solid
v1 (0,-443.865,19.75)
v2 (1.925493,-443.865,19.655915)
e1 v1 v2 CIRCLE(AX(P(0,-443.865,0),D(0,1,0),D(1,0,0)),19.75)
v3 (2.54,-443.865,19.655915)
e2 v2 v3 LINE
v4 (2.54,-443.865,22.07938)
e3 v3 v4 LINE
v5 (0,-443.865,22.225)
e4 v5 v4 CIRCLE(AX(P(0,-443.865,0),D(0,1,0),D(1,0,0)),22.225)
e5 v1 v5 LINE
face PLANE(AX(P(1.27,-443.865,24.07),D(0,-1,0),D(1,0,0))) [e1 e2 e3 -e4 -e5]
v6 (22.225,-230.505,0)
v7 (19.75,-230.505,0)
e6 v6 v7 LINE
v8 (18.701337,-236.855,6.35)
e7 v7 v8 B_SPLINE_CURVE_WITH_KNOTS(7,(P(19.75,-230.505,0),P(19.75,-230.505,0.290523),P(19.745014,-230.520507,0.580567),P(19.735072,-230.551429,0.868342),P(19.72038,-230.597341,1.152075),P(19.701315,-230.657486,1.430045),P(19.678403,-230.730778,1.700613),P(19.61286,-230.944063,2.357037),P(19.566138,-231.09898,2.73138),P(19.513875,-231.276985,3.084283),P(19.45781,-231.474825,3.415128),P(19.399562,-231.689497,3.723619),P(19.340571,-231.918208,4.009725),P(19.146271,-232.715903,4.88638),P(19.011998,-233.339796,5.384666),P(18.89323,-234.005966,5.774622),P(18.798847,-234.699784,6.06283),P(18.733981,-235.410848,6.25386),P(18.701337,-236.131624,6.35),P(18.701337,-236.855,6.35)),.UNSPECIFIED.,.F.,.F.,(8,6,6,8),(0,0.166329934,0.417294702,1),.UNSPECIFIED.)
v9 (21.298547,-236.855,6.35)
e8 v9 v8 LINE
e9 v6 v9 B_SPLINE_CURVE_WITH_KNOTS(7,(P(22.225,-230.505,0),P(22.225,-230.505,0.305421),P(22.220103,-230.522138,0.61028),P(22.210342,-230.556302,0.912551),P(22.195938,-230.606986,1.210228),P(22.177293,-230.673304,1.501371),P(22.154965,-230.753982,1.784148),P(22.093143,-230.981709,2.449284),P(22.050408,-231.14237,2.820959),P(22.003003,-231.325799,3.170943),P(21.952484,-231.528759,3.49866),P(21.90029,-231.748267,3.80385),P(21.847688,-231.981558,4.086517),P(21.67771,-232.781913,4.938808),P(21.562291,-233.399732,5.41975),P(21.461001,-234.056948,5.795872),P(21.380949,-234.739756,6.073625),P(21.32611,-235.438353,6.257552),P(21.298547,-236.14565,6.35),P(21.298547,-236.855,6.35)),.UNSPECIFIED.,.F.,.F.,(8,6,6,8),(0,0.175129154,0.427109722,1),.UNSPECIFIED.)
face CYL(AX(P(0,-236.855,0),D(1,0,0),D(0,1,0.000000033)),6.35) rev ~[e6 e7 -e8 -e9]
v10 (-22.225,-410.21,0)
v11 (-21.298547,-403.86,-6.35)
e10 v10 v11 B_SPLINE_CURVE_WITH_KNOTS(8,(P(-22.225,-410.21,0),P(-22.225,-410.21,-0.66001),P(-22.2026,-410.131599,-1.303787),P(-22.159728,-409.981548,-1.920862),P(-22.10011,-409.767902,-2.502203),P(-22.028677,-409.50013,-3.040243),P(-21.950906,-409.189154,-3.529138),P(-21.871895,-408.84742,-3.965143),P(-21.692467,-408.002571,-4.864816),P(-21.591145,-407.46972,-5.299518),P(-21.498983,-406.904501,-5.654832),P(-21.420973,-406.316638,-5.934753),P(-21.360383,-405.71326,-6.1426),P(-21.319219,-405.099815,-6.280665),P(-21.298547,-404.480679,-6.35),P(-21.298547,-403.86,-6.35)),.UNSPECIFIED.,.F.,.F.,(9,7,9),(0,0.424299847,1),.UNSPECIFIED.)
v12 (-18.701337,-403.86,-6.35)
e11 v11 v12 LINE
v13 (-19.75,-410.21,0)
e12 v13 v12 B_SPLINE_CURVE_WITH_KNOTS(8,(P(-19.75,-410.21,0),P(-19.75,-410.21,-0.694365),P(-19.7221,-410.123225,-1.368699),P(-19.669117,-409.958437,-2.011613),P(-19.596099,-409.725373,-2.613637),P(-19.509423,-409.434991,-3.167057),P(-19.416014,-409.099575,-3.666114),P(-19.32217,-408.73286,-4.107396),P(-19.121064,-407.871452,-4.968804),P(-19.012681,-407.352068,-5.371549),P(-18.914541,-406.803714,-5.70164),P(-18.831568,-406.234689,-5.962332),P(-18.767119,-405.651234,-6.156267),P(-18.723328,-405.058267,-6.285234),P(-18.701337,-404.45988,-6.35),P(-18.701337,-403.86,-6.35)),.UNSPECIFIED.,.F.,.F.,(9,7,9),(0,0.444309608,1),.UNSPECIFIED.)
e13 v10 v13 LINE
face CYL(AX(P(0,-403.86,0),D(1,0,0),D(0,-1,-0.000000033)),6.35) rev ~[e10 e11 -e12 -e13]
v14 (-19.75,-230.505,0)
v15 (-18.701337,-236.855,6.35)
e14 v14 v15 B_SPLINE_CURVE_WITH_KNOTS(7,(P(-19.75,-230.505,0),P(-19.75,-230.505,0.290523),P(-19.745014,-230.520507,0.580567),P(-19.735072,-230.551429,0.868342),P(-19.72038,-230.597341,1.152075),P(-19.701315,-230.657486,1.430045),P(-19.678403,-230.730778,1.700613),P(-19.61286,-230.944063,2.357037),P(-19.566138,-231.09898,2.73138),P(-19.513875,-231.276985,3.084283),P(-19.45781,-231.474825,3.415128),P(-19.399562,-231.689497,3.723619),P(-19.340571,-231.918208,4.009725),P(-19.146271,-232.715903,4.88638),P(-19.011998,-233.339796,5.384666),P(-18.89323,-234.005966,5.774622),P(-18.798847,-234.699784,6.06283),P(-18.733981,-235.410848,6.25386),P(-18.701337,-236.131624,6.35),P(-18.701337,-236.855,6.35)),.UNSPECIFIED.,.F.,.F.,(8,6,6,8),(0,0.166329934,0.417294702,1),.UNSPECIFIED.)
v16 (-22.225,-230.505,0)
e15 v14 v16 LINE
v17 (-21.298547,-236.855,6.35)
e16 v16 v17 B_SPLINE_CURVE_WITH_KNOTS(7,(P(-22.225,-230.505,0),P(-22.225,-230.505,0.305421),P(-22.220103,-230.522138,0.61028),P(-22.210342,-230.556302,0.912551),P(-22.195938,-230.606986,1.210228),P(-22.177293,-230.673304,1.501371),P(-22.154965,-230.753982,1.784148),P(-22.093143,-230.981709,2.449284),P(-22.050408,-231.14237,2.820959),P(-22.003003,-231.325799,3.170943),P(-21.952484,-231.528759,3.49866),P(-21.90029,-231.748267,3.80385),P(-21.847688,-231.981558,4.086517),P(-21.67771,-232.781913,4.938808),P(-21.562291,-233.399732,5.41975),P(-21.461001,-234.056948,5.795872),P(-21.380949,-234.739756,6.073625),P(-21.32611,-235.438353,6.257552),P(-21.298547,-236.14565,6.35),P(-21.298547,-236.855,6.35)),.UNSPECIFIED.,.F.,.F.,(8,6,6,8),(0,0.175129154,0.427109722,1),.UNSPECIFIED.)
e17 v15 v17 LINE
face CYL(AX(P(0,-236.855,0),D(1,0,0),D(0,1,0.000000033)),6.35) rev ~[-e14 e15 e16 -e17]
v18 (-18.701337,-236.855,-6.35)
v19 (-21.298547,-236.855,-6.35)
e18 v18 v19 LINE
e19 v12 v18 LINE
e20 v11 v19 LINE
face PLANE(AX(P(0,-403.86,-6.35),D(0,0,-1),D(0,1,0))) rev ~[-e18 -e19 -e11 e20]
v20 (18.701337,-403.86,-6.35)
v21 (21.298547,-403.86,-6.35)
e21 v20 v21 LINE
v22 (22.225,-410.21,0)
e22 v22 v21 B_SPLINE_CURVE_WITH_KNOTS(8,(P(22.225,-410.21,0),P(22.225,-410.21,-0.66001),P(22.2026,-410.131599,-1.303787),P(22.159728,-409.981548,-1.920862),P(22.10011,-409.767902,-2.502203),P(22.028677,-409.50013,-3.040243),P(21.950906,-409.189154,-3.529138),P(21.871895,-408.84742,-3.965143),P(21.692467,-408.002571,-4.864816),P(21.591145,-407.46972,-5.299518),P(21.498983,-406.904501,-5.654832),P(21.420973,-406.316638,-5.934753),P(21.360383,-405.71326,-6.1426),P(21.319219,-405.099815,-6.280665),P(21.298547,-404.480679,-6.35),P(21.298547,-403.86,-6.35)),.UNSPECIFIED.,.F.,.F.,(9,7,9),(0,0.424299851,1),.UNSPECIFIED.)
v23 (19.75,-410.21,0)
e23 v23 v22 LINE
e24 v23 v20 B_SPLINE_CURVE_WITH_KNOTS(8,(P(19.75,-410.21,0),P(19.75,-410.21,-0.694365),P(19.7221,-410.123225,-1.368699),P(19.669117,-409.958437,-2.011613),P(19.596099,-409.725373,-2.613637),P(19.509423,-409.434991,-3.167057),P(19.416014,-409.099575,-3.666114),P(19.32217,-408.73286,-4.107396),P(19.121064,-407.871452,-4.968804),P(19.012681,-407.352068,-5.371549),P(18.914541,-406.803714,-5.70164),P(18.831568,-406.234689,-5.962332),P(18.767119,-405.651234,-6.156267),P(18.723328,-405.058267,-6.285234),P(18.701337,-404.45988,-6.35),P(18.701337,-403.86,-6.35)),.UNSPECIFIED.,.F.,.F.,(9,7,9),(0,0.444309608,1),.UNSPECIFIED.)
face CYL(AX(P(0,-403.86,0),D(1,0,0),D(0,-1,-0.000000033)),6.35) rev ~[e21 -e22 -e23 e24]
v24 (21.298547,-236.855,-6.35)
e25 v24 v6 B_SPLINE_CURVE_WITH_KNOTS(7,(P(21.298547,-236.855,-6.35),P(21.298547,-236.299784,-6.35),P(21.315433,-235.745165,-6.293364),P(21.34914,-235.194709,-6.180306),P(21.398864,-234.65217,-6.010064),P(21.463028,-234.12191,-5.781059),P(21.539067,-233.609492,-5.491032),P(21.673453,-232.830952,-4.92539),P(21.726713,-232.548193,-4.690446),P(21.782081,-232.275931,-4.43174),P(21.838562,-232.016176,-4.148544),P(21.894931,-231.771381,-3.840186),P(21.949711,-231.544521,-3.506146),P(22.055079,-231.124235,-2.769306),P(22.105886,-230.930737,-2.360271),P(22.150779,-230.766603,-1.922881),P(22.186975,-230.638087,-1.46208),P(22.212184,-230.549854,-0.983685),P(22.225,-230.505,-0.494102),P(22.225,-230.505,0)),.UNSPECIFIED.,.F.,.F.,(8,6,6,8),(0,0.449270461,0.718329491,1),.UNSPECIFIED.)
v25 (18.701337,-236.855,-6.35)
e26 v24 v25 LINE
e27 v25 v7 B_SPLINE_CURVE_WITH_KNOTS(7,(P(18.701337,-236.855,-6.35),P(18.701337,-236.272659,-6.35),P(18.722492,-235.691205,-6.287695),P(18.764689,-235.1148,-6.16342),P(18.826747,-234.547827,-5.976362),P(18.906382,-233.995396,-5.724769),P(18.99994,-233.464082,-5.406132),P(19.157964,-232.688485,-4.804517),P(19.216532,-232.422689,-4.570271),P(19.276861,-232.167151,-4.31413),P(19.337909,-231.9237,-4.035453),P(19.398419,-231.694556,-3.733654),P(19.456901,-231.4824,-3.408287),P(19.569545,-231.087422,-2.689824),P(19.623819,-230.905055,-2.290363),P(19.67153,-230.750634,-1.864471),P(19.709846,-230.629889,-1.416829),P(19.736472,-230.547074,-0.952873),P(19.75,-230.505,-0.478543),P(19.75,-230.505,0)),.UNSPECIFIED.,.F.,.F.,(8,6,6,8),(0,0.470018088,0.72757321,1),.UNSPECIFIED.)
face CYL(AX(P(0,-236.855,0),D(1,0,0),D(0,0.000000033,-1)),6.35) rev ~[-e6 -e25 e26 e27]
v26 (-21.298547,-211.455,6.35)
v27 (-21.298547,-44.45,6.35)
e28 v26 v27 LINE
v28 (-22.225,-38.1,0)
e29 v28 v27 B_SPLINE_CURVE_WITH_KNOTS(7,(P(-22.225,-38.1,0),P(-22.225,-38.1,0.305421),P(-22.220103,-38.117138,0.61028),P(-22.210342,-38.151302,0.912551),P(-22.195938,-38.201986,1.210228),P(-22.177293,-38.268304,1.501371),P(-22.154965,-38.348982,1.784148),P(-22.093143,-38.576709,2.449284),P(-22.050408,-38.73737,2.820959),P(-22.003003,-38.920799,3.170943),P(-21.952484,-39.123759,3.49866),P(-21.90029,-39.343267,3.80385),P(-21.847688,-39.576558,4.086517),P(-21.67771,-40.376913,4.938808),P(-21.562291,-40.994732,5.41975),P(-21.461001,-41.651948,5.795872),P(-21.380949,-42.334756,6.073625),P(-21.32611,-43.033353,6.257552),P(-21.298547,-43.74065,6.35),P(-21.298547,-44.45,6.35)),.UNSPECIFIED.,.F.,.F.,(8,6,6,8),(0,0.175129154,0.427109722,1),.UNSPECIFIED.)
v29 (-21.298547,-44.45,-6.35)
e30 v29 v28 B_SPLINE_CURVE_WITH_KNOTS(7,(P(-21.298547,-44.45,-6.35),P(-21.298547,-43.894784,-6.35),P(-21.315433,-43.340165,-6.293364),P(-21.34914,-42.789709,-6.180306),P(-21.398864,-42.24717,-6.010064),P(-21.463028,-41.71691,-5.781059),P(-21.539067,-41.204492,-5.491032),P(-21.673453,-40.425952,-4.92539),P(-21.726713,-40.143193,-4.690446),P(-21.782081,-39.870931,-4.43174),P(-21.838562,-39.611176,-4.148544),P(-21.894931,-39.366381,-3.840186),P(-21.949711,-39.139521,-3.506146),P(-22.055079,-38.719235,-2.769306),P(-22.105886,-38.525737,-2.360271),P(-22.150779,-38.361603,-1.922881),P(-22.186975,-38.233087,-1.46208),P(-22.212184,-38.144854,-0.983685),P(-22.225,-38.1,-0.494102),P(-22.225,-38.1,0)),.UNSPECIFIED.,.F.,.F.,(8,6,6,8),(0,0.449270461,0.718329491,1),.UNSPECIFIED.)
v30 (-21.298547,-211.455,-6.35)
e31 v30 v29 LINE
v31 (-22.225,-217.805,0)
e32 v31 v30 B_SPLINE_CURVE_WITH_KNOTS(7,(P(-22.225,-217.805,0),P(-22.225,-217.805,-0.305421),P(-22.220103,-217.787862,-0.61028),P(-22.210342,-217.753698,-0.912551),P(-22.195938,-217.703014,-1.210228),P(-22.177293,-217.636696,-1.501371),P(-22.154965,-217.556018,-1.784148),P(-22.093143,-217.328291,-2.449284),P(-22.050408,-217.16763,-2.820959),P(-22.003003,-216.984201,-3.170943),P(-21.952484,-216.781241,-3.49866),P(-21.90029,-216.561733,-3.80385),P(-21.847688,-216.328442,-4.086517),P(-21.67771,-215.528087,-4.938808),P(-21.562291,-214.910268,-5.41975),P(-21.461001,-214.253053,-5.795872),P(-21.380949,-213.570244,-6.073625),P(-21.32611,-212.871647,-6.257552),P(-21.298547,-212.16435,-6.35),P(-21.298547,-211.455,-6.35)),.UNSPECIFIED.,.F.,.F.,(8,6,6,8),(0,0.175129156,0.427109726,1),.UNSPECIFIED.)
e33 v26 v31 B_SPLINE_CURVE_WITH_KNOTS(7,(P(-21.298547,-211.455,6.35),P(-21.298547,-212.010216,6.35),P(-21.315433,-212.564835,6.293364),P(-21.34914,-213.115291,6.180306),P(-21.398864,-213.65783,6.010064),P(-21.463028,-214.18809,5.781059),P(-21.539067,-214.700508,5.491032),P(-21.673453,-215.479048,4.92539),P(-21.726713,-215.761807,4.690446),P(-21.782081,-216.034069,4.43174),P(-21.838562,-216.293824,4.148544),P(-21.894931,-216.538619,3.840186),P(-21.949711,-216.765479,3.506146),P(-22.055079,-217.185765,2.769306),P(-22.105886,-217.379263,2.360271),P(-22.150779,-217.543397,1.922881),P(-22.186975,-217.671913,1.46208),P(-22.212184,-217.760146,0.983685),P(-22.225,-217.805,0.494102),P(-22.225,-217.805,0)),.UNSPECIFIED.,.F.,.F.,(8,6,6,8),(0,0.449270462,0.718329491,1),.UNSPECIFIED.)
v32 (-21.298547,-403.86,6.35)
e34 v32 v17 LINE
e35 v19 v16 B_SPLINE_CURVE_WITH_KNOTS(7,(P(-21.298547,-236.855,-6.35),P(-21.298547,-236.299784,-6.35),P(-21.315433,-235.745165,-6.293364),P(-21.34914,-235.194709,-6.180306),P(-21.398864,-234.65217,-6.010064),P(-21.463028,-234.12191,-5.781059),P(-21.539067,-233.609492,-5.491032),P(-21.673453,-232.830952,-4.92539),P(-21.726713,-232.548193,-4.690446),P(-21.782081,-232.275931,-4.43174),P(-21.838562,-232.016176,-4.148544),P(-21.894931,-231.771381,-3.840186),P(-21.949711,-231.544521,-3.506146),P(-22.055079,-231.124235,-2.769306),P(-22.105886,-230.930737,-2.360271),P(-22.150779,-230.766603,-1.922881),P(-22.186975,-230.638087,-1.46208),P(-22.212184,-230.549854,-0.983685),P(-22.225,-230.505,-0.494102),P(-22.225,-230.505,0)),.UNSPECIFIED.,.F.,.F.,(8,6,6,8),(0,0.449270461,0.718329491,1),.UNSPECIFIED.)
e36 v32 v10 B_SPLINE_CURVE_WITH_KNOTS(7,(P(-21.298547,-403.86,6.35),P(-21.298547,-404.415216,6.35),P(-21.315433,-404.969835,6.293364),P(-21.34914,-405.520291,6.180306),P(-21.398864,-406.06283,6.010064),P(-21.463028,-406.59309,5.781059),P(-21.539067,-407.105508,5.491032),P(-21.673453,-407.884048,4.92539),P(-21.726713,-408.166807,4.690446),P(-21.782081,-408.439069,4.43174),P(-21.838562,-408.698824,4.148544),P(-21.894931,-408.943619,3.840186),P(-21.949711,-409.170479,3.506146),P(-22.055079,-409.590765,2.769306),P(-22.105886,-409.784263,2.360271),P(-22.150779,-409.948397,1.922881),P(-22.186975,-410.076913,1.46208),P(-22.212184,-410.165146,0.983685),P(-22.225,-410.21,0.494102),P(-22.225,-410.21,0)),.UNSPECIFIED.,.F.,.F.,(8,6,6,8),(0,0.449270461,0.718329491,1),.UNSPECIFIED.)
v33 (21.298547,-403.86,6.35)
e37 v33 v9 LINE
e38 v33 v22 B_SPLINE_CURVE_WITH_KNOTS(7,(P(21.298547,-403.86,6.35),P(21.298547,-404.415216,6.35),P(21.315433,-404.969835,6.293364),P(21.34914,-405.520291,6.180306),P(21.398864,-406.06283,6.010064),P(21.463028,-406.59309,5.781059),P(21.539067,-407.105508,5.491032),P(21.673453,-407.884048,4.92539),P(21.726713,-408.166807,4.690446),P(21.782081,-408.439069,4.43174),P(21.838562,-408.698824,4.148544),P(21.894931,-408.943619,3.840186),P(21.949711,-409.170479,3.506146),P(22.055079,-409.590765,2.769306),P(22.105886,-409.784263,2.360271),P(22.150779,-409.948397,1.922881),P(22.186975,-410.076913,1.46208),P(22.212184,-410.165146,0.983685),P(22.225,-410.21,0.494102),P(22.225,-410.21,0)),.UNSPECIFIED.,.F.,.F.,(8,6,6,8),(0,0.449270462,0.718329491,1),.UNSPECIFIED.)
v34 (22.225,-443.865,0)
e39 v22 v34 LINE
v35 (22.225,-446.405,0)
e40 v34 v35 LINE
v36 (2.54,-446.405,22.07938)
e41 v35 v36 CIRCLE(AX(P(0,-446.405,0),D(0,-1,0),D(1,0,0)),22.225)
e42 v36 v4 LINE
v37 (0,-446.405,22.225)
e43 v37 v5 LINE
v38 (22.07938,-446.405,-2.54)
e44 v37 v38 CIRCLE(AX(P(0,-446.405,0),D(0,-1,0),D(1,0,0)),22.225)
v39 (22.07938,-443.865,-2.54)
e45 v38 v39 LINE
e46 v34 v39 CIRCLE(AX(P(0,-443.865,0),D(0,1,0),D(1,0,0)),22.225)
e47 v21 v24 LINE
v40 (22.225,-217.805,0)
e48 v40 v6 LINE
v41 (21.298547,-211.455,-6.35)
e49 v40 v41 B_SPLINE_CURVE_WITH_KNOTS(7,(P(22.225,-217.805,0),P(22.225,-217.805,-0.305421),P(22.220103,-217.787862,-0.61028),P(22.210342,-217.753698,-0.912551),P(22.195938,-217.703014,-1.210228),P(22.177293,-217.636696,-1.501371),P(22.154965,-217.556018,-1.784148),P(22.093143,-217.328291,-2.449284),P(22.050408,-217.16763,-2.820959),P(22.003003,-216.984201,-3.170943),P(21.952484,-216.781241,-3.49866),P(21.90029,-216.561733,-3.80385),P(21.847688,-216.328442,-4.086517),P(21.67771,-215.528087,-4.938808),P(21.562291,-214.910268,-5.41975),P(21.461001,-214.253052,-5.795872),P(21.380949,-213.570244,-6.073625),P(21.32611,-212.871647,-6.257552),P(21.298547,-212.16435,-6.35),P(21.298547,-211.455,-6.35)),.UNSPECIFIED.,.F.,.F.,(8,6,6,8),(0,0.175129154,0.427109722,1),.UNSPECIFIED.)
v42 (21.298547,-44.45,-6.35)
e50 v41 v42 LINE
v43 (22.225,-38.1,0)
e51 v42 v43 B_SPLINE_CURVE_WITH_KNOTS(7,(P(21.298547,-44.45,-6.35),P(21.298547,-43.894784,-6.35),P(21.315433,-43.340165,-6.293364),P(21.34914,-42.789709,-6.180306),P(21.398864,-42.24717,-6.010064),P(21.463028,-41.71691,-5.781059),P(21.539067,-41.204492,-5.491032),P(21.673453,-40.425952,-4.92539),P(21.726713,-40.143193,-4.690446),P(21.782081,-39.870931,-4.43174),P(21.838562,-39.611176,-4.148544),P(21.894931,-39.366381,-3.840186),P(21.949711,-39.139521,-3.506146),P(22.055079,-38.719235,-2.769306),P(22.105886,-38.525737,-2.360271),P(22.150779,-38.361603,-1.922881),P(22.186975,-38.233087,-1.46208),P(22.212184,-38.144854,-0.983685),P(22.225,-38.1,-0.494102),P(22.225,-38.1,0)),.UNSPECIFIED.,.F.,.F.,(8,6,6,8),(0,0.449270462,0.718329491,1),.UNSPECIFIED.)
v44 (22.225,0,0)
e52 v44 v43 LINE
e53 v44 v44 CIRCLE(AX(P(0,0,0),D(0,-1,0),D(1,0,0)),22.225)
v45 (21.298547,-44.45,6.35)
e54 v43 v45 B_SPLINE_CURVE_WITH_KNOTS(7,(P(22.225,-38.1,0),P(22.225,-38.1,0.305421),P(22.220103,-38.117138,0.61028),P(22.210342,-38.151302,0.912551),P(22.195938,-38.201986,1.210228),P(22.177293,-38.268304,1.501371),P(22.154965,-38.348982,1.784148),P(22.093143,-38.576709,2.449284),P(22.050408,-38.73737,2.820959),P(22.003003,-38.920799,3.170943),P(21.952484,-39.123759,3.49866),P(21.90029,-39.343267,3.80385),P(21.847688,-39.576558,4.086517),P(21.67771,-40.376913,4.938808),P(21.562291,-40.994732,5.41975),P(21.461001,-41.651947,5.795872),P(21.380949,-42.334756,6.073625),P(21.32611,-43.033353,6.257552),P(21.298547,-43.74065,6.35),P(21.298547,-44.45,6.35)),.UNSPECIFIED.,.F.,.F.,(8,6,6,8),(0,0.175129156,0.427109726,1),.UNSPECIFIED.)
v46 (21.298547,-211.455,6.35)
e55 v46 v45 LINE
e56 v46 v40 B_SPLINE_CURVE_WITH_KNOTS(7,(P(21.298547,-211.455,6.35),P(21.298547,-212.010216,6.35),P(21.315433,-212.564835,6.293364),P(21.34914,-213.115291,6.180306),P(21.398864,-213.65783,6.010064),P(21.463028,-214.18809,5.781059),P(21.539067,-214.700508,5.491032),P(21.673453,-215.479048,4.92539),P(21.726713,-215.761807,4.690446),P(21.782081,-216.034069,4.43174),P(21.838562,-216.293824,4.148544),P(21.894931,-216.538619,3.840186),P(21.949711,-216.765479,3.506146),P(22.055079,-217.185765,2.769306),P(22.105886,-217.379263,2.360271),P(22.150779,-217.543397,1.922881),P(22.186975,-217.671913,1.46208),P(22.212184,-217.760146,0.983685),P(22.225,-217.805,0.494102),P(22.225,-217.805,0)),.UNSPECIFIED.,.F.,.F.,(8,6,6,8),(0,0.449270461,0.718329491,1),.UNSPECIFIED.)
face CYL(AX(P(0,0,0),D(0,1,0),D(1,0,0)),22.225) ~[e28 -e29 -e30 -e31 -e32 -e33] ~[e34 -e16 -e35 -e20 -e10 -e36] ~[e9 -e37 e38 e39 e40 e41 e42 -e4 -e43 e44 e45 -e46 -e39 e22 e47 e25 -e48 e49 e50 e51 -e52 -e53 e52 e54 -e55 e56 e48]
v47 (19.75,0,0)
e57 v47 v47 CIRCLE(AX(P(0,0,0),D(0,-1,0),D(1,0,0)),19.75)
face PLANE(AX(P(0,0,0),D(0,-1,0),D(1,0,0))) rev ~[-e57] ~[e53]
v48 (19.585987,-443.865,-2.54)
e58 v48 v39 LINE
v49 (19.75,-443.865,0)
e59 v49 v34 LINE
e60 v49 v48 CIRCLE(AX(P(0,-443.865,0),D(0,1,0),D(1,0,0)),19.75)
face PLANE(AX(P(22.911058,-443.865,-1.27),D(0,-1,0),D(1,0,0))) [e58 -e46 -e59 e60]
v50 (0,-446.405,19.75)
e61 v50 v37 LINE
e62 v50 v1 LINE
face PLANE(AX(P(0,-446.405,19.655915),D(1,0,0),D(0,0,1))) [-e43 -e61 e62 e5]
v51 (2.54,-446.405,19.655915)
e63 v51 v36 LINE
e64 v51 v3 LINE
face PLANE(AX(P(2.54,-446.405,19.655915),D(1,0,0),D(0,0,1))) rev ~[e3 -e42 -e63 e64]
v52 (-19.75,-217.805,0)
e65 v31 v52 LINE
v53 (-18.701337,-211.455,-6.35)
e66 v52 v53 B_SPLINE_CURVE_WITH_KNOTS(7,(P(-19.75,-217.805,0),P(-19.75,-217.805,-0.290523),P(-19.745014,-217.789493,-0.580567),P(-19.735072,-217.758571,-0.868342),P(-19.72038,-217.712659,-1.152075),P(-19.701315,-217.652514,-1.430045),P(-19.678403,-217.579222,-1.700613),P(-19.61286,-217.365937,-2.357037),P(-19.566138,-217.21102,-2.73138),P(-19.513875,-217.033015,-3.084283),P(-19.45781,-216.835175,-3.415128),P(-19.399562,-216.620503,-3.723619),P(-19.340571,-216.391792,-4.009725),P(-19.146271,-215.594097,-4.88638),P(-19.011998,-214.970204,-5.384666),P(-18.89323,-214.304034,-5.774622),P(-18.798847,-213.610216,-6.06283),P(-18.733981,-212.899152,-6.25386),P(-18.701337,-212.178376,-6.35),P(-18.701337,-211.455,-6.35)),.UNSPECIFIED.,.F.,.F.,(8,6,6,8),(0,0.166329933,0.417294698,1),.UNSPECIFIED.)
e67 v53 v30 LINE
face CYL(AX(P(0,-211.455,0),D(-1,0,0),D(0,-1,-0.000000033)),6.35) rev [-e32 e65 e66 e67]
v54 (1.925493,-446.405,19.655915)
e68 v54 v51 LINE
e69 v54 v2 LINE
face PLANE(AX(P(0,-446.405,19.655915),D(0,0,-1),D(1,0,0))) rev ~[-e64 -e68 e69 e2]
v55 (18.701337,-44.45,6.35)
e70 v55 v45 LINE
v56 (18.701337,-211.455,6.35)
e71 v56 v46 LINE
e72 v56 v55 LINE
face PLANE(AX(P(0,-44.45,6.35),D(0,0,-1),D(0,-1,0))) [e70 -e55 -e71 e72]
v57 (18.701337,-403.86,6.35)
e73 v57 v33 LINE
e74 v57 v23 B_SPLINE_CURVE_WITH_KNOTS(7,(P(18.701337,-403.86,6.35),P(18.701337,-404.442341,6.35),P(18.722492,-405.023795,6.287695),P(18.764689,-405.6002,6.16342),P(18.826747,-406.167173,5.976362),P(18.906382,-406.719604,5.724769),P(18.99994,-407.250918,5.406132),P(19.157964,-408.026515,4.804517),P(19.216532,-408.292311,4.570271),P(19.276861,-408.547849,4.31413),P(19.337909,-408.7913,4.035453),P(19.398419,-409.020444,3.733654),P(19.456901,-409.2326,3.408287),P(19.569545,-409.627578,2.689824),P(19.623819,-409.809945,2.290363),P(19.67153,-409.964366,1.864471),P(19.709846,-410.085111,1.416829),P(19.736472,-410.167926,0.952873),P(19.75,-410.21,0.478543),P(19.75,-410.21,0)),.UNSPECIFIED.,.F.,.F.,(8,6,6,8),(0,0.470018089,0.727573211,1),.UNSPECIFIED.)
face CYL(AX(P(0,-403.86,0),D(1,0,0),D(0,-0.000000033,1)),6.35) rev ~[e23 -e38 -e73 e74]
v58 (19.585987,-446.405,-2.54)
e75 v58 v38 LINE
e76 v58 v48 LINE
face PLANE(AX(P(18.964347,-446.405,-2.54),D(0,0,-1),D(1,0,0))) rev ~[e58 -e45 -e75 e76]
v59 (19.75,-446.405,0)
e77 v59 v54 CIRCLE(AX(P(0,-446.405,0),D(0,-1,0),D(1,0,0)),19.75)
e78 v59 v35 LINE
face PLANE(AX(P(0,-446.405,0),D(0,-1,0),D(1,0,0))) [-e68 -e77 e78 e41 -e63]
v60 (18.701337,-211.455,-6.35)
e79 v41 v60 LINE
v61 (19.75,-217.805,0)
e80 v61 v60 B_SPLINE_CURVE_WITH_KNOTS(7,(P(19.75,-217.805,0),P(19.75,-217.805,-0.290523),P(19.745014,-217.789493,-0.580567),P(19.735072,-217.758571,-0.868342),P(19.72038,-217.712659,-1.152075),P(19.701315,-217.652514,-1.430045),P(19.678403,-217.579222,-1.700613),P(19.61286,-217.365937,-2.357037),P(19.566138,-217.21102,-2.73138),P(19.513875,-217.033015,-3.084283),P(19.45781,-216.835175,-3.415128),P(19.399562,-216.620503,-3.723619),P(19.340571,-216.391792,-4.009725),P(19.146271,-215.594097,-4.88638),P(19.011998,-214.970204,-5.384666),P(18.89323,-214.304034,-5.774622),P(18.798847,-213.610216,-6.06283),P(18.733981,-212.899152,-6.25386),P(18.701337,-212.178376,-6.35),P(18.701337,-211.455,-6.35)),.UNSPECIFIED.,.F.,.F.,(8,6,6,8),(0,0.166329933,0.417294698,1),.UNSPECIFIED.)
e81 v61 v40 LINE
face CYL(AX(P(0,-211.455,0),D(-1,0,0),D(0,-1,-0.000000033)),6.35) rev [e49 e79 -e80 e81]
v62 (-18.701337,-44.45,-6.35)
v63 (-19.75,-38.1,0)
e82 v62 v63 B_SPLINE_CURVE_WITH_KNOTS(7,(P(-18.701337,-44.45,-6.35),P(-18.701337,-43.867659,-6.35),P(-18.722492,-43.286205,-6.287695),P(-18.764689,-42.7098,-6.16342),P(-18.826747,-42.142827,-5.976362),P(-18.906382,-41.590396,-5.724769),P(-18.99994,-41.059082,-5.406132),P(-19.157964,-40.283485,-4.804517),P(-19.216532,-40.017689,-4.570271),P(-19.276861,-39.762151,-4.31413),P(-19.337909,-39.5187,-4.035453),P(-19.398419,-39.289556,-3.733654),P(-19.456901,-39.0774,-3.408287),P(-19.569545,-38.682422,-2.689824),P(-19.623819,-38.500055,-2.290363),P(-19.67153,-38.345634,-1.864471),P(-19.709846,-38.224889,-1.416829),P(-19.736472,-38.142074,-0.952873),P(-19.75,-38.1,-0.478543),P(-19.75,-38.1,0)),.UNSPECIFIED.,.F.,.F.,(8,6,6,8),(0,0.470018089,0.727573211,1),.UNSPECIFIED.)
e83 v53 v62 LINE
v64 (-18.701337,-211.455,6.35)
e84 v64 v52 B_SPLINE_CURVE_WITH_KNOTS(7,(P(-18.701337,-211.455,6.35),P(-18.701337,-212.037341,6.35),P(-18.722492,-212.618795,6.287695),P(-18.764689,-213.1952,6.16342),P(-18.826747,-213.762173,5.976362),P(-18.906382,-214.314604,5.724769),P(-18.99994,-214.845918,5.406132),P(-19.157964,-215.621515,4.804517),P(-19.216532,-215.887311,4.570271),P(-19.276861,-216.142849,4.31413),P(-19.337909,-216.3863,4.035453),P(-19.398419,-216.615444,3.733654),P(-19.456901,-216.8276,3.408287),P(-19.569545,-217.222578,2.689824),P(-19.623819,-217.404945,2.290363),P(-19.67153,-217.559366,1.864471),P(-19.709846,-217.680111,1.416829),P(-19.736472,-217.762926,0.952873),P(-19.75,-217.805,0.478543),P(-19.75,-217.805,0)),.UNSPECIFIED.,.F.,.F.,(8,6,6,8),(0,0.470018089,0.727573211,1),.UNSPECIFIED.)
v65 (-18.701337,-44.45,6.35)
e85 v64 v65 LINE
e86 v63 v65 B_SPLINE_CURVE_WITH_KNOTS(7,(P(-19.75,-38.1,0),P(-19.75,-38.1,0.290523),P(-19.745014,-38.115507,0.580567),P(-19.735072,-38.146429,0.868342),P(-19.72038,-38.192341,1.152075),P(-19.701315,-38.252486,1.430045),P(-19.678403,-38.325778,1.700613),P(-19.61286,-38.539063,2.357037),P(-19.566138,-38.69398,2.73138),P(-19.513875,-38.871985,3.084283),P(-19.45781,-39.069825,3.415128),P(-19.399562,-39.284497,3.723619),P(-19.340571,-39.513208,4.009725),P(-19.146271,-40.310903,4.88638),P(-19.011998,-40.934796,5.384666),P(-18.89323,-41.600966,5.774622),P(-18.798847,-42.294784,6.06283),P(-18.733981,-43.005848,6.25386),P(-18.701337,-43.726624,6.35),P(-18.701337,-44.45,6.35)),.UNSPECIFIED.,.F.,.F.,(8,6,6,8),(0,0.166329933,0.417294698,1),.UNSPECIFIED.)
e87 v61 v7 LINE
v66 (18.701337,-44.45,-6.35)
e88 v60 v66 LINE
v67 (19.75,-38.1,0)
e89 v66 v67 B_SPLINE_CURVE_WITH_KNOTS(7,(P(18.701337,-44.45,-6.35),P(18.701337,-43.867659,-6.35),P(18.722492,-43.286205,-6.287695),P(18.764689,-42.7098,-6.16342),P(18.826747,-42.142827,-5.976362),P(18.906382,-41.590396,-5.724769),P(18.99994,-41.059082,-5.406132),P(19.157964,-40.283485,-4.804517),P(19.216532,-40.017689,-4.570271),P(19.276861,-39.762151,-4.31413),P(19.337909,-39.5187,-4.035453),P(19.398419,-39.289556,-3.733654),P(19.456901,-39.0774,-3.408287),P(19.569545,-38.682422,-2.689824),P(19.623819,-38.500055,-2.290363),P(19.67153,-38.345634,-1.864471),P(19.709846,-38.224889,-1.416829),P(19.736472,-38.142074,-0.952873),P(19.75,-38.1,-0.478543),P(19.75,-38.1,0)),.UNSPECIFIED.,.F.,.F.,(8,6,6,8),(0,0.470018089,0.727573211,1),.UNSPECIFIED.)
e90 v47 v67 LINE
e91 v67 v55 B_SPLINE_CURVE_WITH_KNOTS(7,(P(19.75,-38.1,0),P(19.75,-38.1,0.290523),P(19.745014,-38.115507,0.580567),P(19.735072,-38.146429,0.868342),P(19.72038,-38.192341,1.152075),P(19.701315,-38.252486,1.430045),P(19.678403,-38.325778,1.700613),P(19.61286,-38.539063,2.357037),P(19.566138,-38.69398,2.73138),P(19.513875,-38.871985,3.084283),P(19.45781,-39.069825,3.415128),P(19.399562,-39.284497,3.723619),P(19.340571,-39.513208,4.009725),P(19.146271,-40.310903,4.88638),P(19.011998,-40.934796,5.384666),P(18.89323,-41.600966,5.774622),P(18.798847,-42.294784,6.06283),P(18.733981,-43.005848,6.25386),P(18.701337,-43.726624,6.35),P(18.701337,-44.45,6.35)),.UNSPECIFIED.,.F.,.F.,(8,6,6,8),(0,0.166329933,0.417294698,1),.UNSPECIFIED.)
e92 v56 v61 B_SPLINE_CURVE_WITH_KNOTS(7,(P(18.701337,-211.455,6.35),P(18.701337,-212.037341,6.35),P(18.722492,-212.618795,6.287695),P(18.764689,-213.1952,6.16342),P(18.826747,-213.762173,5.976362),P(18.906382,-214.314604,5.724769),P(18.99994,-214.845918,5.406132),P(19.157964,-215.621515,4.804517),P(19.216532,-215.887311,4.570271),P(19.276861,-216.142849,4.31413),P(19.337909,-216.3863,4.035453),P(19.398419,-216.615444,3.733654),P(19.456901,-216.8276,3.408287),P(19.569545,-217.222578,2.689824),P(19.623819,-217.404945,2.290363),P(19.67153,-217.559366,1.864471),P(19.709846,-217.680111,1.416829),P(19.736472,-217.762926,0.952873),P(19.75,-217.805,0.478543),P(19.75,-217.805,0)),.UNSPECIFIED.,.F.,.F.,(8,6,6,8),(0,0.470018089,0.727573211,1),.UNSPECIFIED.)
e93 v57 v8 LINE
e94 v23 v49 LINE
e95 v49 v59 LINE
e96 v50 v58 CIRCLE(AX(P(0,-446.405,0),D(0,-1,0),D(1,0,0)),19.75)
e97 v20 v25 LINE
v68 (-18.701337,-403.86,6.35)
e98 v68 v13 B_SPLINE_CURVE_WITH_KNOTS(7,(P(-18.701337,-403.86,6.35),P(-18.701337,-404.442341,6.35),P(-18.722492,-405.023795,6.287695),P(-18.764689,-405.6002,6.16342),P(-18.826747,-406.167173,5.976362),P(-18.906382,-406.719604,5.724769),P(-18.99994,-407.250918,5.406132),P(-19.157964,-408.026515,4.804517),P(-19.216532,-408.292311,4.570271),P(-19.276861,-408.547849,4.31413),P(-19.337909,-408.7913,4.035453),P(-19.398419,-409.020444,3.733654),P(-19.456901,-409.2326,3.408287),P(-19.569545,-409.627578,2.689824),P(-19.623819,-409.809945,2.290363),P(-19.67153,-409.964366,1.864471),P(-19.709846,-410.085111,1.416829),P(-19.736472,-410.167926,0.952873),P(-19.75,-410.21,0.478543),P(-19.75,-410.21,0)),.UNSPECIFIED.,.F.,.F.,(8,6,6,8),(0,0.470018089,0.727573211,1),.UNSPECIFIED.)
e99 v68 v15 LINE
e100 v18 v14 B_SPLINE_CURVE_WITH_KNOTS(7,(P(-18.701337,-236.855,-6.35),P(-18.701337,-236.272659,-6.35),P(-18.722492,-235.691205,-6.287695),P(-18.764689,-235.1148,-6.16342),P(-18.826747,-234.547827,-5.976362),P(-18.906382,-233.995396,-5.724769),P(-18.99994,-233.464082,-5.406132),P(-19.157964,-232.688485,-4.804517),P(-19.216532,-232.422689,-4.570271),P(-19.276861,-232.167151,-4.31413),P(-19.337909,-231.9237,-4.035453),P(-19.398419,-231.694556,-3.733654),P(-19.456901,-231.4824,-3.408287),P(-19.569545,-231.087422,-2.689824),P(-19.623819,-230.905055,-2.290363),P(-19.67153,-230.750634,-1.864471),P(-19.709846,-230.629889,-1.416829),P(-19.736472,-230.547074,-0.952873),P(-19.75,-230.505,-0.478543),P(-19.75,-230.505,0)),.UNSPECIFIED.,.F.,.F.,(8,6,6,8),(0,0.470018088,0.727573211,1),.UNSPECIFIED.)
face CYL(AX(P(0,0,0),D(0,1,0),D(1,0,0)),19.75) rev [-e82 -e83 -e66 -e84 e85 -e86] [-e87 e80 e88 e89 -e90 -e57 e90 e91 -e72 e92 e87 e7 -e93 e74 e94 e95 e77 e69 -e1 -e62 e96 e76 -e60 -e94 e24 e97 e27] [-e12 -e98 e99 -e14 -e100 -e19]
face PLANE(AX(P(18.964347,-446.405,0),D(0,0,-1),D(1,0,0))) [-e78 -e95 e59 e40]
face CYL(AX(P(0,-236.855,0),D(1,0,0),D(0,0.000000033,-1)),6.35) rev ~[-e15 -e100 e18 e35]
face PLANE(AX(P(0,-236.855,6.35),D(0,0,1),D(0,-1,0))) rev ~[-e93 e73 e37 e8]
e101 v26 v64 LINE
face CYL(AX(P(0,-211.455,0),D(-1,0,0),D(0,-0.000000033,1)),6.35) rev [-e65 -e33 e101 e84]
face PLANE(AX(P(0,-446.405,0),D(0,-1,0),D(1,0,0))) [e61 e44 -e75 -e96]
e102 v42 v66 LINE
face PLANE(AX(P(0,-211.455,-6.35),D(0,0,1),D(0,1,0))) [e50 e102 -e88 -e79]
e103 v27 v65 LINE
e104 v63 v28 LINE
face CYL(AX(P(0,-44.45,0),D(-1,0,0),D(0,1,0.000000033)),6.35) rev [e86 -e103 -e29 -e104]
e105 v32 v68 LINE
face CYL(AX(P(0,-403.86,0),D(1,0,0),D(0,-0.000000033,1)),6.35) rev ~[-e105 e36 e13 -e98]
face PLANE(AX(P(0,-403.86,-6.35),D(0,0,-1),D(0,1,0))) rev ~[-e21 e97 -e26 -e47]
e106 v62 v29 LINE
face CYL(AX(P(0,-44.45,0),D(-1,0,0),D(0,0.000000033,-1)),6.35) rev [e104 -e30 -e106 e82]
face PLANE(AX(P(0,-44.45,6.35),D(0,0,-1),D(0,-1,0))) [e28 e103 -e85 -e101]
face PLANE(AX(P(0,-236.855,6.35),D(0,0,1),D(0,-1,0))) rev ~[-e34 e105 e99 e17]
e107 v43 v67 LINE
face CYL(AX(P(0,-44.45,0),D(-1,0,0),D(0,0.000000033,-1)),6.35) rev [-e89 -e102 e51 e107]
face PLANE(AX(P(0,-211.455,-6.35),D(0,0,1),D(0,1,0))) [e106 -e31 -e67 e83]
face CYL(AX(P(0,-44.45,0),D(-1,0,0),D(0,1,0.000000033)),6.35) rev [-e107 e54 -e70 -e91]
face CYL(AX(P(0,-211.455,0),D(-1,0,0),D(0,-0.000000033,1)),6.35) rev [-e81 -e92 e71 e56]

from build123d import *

# Parameters (mm, degrees)
F0_R     = 22.225
F0_R_2   = 19.75
F1_DEPTH = 446.405
F3_DEPTH = 63.5
F4_W     = 7.893423
F4_H     = 2.54
F4_W_2   = 2.54
F4_H_2   = 8.828171
F5_DEPTH = 2.54


with BuildPart() as f1:
    # F0 (on Front) → F1 (new body)
    with BuildSketch(Plane.XZ):
        Circle(F0_R)
        Circle(F0_R_2, mode=Mode.SUBTRACT)
    extrude(amount=F1_DEPTH)

    # F2 (on Right) → F3 (cut, symmetric)
    with BuildSketch(Plane.YZ):
        with BuildLine():
            ThreePointArc((-38.1, 0), (-39.959872, 4.490128), (-44.45, 6.35))
            Line((-44.45, 6.35), (-211.455, 6.35))
            ThreePointArc((-211.455, 6.35), (-215.945128, 4.490128), (-217.805, 0))
            ThreePointArc((-217.805, 0), (-215.945128, -4.490128), (-211.455, -6.35))
            Line((-211.455, -6.35), (-44.45, -6.35))
            ThreePointArc((-44.45, -6.35), (-39.959872, -4.490128), (-38.1, 0))
        make_face()
        with BuildLine():
            Line((-236.855, 6.35), (-403.86, 6.35))
            ThreePointArc((-403.86, 6.35), (-408.350128, 4.490128), (-410.21, 0))
            ThreePointArc((-410.21, 0), (-408.350128, -4.490128), (-403.86, -6.35))
            Line((-403.86, -6.35), (-236.855, -6.35))
            ThreePointArc((-236.855, -6.35), (-232.364872, -4.490128), (-230.505, 0))
            ThreePointArc((-230.505, 0), (-232.364872, 4.490128), (-236.855, 6.35))
        make_face()
    extrude(amount=F3_DEPTH, both=True, mode=Mode.SUBTRACT)

    # F4 (on face) → F5 (cut)
    with BuildSketch(Plane.XZ.offset(446.405)):
        with Locations((22.911058, -1.27)):
            Rectangle(F4_W, F4_H)
        with Locations((1.27, 24.07)):
            Rectangle(F4_W_2, F4_H_2)
    extrude(amount=-F5_DEPTH, mode=Mode.SUBTRACT)


solid = f1.part
